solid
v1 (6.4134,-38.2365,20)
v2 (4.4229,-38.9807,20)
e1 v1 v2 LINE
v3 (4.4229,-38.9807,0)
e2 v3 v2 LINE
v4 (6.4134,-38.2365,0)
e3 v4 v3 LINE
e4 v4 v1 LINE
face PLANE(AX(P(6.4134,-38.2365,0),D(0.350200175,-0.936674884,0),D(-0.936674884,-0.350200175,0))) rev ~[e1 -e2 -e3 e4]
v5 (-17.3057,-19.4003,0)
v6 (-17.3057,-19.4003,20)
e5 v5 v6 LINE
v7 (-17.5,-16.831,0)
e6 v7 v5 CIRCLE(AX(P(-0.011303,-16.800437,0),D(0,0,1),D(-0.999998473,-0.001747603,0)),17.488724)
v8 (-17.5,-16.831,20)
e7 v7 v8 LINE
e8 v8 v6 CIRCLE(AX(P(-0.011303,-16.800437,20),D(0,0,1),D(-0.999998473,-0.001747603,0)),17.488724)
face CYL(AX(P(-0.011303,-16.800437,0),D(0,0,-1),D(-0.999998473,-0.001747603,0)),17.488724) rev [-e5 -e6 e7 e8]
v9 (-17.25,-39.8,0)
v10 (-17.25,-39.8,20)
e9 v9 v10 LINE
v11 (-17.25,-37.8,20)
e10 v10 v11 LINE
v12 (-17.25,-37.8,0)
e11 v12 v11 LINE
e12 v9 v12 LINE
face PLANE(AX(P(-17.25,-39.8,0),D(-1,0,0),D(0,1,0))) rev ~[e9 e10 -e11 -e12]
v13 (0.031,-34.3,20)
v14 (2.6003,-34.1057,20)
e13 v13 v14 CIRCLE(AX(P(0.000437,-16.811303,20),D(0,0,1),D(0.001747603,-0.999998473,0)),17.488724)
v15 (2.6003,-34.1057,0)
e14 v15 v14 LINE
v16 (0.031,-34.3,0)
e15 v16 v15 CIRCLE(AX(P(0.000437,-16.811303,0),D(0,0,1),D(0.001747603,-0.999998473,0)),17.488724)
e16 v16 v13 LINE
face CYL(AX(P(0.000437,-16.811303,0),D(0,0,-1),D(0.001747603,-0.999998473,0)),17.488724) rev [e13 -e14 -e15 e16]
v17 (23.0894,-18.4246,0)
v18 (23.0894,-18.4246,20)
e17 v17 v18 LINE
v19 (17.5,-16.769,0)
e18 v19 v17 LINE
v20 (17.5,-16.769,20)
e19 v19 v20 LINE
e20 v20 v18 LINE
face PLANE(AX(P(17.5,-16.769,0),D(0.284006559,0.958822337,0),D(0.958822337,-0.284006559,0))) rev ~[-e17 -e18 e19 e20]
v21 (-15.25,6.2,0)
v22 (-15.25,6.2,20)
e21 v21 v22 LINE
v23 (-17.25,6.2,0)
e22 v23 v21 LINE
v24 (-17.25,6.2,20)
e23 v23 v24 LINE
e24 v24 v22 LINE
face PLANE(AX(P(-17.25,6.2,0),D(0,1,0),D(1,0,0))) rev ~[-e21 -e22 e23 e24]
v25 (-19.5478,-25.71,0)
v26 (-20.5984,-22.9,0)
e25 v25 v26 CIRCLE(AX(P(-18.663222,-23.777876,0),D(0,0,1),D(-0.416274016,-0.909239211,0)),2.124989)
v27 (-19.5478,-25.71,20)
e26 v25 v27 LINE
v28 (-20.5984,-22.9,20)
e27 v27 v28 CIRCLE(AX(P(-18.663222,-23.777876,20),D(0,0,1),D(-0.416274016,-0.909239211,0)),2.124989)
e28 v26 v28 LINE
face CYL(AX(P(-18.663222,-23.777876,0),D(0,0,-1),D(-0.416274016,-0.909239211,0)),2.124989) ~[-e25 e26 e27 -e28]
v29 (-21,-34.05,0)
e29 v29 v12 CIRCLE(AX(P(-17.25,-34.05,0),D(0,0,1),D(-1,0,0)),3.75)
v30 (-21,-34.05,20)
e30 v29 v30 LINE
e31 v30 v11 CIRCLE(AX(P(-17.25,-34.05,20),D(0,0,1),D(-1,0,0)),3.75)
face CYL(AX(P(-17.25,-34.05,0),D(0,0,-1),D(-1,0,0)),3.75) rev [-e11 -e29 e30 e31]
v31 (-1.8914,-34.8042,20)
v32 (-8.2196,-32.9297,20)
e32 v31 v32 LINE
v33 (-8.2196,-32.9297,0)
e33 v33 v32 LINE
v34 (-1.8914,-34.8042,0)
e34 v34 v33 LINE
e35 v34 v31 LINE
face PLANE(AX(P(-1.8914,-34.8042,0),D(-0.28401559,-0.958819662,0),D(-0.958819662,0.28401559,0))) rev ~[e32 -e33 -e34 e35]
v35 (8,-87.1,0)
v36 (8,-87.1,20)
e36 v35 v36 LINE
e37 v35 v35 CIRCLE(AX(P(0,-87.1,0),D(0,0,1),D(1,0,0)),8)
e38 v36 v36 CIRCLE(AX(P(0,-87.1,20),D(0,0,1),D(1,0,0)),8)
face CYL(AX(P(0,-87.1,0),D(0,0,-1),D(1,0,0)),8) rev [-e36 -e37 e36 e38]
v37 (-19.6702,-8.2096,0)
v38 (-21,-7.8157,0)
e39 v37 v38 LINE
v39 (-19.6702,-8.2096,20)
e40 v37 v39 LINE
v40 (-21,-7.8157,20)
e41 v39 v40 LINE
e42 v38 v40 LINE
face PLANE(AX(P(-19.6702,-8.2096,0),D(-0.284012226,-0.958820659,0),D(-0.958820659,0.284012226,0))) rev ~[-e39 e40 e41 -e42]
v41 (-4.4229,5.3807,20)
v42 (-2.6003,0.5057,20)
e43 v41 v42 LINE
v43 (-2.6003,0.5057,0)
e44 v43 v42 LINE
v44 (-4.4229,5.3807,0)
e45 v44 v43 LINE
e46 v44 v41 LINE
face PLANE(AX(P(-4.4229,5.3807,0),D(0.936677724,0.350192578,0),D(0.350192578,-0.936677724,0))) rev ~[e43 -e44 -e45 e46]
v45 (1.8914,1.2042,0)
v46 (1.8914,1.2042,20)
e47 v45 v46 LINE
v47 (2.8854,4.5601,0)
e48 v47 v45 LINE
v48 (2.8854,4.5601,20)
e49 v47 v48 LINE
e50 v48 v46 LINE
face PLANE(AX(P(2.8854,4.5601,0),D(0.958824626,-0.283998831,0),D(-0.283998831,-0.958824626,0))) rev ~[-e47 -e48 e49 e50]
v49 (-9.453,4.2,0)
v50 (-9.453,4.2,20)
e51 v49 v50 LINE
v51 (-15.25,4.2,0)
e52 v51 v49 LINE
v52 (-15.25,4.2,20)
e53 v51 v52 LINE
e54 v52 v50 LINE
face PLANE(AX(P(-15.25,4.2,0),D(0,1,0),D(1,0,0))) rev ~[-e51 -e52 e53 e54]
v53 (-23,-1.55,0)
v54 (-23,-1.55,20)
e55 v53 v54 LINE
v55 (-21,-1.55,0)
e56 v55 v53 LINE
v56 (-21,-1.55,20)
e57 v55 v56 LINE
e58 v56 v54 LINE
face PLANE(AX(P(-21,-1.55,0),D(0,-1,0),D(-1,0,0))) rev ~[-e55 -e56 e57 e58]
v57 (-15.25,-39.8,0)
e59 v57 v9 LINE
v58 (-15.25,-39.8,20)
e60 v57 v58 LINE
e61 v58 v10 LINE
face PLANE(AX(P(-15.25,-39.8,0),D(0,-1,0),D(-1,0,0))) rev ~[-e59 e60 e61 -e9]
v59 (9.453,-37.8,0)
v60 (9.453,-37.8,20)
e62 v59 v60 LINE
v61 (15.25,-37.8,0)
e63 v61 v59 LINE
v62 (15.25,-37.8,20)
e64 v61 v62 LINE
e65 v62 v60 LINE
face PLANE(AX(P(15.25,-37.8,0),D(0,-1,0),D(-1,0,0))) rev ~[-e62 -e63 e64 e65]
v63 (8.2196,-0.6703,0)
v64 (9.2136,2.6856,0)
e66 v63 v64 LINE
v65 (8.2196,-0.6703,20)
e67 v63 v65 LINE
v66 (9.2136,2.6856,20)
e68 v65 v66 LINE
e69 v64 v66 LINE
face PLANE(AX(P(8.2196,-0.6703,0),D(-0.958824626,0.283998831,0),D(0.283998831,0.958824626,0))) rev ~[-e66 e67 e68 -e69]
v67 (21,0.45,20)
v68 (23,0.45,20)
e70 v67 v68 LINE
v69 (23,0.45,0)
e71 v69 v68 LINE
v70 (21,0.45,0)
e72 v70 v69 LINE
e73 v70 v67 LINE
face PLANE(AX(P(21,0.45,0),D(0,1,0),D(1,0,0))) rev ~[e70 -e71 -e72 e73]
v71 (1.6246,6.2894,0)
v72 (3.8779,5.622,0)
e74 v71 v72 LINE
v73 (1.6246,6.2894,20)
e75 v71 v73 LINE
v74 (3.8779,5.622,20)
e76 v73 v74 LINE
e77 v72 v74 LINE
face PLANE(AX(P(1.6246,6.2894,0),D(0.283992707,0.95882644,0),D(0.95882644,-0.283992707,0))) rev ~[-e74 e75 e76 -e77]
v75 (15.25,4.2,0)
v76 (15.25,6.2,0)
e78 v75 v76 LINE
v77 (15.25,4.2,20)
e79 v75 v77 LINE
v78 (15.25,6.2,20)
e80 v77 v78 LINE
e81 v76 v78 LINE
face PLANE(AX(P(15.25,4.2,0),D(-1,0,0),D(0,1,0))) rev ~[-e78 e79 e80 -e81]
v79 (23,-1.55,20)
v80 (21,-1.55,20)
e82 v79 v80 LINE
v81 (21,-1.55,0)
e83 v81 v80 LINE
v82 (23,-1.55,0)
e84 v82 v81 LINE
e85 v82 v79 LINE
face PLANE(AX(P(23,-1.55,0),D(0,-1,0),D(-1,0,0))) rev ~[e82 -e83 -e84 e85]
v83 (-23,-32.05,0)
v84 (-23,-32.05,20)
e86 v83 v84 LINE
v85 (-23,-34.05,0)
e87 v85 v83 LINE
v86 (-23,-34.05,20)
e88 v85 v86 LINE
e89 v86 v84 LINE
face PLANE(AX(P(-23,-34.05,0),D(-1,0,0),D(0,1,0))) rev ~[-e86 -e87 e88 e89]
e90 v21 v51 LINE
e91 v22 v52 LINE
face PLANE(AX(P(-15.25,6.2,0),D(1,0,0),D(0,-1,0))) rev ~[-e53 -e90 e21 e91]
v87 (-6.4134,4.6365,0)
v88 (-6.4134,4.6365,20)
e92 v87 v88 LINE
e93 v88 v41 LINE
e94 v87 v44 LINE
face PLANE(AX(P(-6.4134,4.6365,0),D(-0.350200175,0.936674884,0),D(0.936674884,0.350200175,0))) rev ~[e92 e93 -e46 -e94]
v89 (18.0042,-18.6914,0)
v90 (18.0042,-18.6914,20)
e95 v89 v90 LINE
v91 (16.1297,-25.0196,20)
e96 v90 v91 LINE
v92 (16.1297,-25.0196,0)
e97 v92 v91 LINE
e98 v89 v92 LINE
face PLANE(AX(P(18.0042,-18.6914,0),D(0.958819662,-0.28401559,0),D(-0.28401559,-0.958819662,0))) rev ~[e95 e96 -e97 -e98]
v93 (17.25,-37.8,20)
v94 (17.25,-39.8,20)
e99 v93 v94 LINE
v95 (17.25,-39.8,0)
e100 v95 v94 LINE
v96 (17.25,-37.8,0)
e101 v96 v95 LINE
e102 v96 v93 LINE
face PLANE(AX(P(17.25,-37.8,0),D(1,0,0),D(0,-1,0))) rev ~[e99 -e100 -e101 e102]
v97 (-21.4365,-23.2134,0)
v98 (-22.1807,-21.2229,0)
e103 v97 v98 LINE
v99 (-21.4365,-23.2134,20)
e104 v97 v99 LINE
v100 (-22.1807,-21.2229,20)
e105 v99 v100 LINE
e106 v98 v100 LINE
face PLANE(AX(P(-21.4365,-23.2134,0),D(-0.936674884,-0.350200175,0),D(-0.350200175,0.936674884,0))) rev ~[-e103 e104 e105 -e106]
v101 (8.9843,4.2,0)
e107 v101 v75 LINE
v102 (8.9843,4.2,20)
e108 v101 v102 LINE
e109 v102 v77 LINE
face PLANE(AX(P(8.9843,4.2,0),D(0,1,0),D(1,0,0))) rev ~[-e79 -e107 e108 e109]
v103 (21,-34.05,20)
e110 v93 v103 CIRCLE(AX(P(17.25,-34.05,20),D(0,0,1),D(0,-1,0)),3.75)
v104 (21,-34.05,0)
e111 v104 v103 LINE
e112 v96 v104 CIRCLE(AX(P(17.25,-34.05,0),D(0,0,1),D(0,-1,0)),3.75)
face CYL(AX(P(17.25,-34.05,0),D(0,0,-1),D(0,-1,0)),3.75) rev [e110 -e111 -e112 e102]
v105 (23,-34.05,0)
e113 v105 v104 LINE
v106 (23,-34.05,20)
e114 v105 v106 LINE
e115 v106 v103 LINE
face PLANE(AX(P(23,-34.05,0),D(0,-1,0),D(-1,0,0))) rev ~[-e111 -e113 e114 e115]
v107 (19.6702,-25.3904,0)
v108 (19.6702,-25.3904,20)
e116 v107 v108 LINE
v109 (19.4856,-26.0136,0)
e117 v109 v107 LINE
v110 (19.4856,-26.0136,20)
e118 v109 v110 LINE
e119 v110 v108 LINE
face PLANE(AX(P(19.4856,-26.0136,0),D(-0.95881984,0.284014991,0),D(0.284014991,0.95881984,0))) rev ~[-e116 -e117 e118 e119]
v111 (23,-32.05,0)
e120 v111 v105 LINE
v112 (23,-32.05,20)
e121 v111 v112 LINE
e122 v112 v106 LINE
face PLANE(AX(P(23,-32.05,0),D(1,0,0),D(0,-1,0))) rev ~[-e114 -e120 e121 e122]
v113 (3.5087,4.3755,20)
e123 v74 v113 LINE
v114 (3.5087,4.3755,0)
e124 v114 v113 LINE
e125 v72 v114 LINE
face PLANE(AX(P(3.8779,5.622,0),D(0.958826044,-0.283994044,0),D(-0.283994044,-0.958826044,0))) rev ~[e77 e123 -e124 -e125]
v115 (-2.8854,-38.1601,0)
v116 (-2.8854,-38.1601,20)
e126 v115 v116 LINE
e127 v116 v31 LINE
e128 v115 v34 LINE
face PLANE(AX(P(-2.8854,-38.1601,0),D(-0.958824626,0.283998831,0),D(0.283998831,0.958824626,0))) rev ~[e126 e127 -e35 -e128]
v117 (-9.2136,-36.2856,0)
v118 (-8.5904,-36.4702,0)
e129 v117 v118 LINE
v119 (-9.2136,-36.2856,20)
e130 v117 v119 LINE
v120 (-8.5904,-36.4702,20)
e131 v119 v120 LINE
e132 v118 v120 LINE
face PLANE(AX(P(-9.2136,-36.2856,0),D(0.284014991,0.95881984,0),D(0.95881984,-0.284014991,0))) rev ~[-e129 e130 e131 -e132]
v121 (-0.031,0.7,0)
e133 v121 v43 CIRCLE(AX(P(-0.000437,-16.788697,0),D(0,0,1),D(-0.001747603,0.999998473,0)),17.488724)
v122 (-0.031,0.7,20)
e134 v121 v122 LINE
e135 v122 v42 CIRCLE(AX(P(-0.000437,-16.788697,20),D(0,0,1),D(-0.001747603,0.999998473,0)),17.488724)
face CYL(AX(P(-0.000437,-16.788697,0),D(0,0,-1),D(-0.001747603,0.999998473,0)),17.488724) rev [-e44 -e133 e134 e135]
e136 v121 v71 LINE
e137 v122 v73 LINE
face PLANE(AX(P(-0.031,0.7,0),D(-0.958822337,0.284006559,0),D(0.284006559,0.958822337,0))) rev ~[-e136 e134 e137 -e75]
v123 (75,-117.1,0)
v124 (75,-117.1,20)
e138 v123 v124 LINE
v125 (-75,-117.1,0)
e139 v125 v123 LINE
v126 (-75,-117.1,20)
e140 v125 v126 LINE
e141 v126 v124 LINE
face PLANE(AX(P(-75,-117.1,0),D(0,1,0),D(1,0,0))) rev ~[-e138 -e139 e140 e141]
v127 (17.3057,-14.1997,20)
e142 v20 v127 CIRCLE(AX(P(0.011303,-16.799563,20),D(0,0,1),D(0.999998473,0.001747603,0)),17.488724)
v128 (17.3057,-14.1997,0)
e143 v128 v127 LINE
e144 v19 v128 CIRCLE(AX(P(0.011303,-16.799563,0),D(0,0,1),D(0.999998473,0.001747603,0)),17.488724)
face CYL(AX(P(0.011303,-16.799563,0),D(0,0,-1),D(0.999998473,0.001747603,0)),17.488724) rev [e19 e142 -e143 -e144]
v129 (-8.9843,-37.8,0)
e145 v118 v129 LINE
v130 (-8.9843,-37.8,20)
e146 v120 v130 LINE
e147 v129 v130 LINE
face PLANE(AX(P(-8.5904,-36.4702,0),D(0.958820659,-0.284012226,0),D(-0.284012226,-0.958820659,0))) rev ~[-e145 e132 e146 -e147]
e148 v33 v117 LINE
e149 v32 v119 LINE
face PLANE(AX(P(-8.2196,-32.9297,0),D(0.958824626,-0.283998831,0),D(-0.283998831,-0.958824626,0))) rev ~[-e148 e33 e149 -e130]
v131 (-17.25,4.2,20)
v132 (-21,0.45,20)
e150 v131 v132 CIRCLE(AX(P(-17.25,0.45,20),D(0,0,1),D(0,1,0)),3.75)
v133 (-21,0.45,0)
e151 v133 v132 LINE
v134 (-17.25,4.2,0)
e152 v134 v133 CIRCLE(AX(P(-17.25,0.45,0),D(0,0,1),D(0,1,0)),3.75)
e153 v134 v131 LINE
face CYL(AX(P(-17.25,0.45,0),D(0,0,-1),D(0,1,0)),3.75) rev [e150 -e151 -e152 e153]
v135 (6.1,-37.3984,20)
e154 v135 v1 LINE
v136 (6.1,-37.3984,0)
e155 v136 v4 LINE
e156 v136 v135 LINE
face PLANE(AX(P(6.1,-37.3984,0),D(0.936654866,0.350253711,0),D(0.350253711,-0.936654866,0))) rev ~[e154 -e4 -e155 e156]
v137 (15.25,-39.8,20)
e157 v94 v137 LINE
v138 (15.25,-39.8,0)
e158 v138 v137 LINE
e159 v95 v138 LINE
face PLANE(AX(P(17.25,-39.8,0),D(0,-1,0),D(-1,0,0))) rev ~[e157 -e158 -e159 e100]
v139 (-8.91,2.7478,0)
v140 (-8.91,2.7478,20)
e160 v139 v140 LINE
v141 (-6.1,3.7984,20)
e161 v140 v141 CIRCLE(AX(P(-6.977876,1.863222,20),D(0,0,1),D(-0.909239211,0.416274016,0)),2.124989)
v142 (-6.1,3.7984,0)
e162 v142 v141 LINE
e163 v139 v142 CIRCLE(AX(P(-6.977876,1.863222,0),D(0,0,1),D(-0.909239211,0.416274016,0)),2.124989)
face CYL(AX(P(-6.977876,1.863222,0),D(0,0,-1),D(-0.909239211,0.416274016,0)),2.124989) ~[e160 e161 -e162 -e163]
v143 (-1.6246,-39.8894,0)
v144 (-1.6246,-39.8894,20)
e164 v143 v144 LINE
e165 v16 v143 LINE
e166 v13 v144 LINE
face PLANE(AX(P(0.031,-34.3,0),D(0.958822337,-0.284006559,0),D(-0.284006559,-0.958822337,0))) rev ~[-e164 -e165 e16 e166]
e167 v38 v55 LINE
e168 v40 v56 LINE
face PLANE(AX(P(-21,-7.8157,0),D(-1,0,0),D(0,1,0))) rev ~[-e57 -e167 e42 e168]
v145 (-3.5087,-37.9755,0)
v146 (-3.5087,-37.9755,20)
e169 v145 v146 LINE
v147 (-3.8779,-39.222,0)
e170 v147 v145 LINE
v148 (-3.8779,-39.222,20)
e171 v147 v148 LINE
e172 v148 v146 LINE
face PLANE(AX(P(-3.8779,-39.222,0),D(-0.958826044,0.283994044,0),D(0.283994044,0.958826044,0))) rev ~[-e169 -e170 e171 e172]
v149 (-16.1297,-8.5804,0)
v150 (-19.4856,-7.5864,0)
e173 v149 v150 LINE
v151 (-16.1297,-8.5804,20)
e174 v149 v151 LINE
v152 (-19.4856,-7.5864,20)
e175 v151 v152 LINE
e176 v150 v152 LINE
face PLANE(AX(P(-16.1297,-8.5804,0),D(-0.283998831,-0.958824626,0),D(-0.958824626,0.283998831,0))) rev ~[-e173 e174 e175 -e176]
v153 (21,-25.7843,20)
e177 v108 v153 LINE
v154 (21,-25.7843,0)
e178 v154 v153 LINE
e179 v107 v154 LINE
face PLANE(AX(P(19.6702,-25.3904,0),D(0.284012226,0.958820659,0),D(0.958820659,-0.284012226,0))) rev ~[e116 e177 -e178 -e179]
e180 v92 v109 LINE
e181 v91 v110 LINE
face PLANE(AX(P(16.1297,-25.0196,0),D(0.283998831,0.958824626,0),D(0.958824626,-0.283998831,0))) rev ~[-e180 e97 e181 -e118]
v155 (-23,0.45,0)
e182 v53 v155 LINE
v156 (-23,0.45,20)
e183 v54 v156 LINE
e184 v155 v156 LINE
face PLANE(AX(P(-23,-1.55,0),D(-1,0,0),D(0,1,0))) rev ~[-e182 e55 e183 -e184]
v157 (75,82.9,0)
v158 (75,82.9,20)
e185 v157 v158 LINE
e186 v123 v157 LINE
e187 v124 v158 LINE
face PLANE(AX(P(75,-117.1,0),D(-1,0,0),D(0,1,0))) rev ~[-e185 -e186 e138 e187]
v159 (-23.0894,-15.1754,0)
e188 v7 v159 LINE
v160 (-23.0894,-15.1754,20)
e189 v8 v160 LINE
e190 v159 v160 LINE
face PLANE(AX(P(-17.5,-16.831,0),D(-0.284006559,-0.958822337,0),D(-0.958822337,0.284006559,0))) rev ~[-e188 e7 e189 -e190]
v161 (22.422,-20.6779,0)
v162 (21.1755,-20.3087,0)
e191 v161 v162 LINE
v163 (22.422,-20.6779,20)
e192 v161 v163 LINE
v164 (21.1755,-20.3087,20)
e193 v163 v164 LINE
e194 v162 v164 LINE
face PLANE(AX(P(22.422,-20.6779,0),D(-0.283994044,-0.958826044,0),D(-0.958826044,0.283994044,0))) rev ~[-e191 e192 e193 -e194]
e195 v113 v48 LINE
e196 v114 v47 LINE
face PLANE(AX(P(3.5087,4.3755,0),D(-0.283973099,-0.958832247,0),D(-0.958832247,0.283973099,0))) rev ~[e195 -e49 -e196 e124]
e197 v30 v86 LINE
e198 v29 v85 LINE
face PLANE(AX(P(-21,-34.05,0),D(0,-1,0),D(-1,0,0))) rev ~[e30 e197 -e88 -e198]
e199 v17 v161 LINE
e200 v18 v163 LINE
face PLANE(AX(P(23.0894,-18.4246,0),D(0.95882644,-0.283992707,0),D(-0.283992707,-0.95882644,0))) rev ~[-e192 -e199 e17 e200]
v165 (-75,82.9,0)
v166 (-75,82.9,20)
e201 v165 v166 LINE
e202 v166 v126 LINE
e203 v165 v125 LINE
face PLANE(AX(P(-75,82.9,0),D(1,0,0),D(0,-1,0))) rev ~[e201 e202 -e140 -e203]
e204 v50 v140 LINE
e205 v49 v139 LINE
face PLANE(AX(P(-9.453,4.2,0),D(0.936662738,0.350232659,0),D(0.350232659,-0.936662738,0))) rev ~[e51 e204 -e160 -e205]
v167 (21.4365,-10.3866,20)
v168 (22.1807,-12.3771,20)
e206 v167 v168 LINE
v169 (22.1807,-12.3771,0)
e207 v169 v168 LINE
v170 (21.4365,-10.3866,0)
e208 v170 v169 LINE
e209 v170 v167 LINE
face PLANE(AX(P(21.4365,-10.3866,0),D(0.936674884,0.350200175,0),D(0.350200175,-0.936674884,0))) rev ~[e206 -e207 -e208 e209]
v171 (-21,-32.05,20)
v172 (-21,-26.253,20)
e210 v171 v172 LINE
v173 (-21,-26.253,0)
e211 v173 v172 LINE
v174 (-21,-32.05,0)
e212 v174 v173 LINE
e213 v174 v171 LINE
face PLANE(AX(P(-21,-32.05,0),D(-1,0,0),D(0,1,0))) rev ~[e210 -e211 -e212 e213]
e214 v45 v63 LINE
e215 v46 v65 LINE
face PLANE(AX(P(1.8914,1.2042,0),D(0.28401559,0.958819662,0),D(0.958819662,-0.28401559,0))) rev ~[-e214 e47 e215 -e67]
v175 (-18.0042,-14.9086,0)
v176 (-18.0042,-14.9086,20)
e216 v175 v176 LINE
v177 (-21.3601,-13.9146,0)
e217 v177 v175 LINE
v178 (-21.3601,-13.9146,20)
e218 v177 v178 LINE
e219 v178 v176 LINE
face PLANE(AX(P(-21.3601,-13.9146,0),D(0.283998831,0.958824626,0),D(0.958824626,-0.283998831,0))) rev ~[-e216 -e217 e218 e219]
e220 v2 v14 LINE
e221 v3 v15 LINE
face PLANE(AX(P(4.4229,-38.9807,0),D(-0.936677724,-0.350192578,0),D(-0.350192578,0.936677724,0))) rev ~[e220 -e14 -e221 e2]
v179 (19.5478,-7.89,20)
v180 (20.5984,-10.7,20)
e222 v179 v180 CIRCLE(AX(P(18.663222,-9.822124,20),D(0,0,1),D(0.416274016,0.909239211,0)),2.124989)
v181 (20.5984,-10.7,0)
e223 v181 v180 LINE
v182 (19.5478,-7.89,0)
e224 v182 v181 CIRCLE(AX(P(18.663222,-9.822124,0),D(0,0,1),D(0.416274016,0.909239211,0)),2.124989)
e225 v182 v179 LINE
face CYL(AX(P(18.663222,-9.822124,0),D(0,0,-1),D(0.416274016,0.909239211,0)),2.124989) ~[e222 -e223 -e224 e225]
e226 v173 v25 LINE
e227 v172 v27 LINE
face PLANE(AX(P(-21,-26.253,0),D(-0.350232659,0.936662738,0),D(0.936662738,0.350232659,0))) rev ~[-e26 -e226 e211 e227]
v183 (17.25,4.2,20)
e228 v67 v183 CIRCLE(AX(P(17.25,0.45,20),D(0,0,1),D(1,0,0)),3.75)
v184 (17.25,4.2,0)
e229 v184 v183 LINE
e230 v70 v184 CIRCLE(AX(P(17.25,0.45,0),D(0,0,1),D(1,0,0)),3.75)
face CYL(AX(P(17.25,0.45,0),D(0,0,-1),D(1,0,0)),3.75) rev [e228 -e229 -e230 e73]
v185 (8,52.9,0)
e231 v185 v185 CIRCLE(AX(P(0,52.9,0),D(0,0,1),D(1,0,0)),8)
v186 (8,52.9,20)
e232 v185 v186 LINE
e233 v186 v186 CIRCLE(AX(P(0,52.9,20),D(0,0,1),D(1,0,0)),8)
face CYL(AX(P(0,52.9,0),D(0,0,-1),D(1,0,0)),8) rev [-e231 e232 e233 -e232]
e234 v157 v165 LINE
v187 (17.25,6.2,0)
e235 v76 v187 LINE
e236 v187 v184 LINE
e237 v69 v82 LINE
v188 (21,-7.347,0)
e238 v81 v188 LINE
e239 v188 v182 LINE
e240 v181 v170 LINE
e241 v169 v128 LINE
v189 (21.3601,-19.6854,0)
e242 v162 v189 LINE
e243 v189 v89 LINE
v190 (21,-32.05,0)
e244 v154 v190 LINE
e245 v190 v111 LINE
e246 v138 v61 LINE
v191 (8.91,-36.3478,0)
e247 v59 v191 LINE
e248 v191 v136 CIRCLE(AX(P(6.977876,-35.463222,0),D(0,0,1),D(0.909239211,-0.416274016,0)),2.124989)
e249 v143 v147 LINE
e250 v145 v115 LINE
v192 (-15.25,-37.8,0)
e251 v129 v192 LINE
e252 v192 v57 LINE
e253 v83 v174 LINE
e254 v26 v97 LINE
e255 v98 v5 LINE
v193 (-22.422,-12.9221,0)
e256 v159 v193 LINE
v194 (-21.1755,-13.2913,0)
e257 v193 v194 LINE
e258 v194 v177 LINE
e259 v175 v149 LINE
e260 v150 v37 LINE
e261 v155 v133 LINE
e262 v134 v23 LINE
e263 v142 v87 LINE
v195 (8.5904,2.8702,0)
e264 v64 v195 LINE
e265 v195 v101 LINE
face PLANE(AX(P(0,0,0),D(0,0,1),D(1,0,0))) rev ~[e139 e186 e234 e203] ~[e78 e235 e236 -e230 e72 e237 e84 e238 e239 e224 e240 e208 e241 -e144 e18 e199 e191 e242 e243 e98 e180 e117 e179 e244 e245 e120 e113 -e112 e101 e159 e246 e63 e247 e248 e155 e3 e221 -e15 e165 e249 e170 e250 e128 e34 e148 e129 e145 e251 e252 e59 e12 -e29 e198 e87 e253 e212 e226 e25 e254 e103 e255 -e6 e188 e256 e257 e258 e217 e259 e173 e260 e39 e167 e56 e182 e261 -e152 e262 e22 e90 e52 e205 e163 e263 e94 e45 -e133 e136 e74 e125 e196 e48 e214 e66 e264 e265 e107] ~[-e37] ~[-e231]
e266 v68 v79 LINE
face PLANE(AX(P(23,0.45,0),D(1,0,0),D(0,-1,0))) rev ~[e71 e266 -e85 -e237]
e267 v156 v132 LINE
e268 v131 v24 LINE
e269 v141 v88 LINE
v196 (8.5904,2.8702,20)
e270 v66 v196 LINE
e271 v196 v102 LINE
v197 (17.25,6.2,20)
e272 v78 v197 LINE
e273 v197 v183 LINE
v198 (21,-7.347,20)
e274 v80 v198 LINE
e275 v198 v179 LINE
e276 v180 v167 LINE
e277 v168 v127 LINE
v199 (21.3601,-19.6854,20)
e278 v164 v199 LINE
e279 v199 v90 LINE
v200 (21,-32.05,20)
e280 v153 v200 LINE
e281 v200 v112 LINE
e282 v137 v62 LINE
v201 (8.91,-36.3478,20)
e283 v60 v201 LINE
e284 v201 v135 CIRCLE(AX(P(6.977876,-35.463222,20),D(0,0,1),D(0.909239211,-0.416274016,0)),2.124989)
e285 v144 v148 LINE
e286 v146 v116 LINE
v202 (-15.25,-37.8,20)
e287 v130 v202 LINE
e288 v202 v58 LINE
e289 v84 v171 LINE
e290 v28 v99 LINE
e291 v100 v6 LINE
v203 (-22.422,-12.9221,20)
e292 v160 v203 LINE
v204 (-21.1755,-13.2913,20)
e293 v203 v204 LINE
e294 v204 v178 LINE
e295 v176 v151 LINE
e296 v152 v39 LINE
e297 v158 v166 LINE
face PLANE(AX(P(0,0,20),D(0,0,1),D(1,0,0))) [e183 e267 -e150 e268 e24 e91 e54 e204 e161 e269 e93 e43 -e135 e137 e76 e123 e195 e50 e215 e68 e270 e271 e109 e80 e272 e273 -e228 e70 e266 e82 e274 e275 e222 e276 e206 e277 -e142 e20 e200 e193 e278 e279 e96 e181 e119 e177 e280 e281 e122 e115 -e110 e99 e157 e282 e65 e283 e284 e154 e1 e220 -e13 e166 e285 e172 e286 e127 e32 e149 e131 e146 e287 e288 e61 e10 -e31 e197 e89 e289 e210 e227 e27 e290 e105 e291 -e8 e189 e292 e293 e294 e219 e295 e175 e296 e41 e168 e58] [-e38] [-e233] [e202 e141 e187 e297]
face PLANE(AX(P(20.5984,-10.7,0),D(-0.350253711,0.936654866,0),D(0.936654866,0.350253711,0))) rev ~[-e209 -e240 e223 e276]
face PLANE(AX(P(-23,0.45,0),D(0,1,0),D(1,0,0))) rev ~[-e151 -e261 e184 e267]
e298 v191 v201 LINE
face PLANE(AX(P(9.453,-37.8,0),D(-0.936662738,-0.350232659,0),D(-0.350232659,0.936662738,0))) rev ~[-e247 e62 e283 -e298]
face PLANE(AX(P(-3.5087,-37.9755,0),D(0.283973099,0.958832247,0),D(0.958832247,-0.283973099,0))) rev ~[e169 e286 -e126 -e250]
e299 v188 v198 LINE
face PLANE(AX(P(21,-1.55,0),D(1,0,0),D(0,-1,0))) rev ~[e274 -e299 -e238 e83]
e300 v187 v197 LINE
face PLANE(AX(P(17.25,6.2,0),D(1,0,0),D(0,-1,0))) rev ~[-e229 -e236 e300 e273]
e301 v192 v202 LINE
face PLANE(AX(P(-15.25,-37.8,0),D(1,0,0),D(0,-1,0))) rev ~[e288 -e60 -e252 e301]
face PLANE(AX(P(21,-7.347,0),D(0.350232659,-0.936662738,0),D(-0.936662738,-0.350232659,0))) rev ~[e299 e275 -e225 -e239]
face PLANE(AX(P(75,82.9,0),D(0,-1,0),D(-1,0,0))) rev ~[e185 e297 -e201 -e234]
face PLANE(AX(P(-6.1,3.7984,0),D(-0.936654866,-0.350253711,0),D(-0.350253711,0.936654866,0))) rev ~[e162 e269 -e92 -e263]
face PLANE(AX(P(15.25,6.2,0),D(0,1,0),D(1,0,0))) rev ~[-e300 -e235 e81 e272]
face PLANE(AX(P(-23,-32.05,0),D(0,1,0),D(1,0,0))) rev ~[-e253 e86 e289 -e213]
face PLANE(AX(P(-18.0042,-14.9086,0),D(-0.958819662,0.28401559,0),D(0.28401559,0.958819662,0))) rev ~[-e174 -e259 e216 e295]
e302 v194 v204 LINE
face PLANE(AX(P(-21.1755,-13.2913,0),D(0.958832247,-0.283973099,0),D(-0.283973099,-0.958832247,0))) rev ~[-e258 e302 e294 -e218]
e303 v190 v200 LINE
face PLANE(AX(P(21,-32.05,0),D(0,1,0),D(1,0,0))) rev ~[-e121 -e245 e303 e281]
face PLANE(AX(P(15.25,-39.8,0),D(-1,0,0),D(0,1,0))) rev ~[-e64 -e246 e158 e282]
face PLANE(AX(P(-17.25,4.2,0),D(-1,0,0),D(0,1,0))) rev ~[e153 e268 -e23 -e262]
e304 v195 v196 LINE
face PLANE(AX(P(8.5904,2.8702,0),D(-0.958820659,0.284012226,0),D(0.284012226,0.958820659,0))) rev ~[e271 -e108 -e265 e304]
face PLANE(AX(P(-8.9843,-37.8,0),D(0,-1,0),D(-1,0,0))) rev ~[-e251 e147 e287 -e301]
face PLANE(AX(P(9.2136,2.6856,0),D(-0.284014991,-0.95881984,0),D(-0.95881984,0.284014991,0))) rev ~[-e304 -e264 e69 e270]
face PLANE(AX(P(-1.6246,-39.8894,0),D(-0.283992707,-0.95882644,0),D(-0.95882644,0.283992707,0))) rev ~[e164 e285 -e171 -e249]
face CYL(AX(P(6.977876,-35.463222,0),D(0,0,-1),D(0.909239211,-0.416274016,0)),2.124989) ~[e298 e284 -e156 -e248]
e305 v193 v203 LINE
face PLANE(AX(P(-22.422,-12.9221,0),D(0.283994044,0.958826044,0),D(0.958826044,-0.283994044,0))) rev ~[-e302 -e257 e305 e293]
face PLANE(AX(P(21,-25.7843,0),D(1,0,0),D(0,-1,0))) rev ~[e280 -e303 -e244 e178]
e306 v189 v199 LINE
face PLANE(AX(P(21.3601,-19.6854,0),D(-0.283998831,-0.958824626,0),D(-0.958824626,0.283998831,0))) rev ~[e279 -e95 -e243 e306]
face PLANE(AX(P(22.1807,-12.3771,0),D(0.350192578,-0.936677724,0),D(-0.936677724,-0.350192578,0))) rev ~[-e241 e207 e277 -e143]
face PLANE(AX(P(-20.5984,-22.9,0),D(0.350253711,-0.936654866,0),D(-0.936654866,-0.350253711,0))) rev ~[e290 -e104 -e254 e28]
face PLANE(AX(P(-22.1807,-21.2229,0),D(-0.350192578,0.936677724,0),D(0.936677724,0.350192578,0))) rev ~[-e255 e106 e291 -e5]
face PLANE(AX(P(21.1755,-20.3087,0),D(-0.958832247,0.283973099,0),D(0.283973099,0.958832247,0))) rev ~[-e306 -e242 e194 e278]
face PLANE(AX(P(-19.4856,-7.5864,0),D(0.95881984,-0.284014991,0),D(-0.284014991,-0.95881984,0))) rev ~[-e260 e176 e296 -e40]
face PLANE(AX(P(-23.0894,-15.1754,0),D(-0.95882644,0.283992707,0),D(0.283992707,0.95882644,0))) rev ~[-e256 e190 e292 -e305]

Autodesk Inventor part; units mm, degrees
ref_plane "YZ Plane" through (0, 0, 0) normal (1, 0, 0) x (0, 1, 0)
ref_plane "XZ Plane" through (0, 0, 0) normal (0, 1, 0) x (-1, 0, 0)
ref_plane "XY Plane" through (0, 0, 0) normal (0, 0, 1) x (1, 0, 0)
ref_plane "Work Plane1" through (0, 0, 0) normal (0, 0, 1) x (1, 0, 0)
sketch "Sketch1" plane through (0, 0, 0) normal (0, 0, 1) x (1, 0, 0)
  circle A0 centre (0, 52.9) radius 8 projected
  line L0 (-75, -117.1) -> (75, -117.1) projected
  line L1 (75, -117.1) -> (75, 82.9) projected
  line L2 (75, 82.9) -> (-75, 82.9) projected
  line L3 (-75, 82.9) -> (-75, -117.1) projected
  circle A1 centre (0, -87.1) radius 8 projected
  circle A2 centre (0, -16.8) radius 16
  line L4 (0.031, -34.3) -> (-1.6246, -39.8894)
  line L5 (-1.6246, -39.8894) -> (-3.8779, -39.222)
  line L6 (-3.8779, -39.222) -> (-3.5087, -37.9755)
  line L7 (-3.5087, -37.9755) -> (-2.8854, -38.1601)
  line L8 (-2.8854, -38.1601) -> (-1.8914, -34.8042)
  line L9 (-1.8914, -34.8042) -> (-8.2196, -32.9297)
  line L10 (-8.2196, -32.9297) -> (-9.2136, -36.2856)
  line L11 (-9.2136, -36.2856) -> (-8.5904, -36.4702)
  line L12 (-8.5904, -36.4702) -> (-8.9843, -37.8)
  line L13 (-8.9843, -37.8) -> (-15.25, -37.8)
  line L14 (-15.25, -37.8) -> (-15.25, -39.8)
  line L15 (-15.25, -39.8) -> (-17.25, -39.8)
  line L16 (-17.25, -39.8) -> (-17.25, -37.8)
  arc A3 (-21, -34.05) -> (-17.25, -37.8) centre (-17.25, -34.05) ccw
  line L17 (-21, -34.05) -> (-23, -34.05)
  line L18 (-23, -34.05) -> (-23, -32.05)
  line L19 (-23, -32.05) -> (-21, -32.05)
  line L20 (-21, -32.05) -> (-21, -26.253)
  line L21 (-21, -26.253) -> (-19.5478, -25.71)
  arc A4 (-19.5478, -25.71) -> (-20.5984, -22.9) centre (-18.6632, -23.7779) ccw
  line L22 (-20.5984, -22.9) -> (-21.4365, -23.2134)
  line L23 (-21.4365, -23.2134) -> (-22.1807, -21.2229)
  line L24 (-22.1807, -21.2229) -> (-17.3057, -19.4003)
  arc A5 (-17.5, -16.831) -> (-17.3057, -19.4003) centre (0, -16.8) ccw
  line L25 (-17.5, -16.831) -> (-23.0894, -15.1754)
  line L26 (-23.0894, -15.1754) -> (-22.422, -12.9221)
  line L27 (-22.422, -12.9221) -> (-21.1755, -13.2913)
  line L28 (-21.1755, -13.2913) -> (-21.3601, -13.9146)
  line L29 (-21.3601, -13.9146) -> (-18.0042, -14.9086)
  line L30 (-18.0042, -14.9086) -> (-16.1297, -8.5804)
  line L31 (-16.1297, -8.5804) -> (-19.4856, -7.5864)
  line L32 (-19.4856, -7.5864) -> (-19.6702, -8.2096)
  line L33 (-19.6702, -8.2096) -> (-21, -7.8157)
  line L34 (-21, -7.8157) -> (-21, -1.55)
  line L35 (-21, -1.55) -> (-23, -1.55)
  line L36 (-23, -1.55) -> (-23, 0.45)
  line L37 (-23, 0.45) -> (-21, 0.45)
  arc A6 (-17.25, 4.2) -> (-21, 0.45) centre (-17.25, 0.45) ccw
  line L38 (-17.25, 4.2) -> (-17.25, 6.2)
  line L39 (-17.25, 6.2) -> (-15.25, 6.2)
  line L40 (-15.25, 6.2) -> (-15.25, 4.2)
  line L41 (-15.25, 4.2) -> (-9.453, 4.2)
  line L42 (-9.453, 4.2) -> (-8.91, 2.7478)
  arc A7 (-8.91, 2.7478) -> (-6.1, 3.7984) centre (-6.9779, 1.8632) ccw
  line L43 (-6.1, 3.7984) -> (-6.4134, 4.6365)
  line L44 (-6.4134, 4.6365) -> (-4.4229, 5.3807)
  line L45 (-4.4229, 5.3807) -> (-2.6003, 0.5057)
  arc A8 (-0.031, 0.7) -> (-2.6003, 0.5057) centre (0, -16.8) ccw
  line L46 (-0.031, 0.7) -> (1.6246, 6.2894)
  line L47 (1.6246, 6.2894) -> (3.8779, 5.622)
  line L48 (3.8779, 5.622) -> (3.5087, 4.3755)
  line L49 (3.5087, 4.3755) -> (2.8854, 4.5601)
  line L50 (2.8854, 4.5601) -> (1.8914, 1.2042)
  line L51 (1.8914, 1.2042) -> (8.2196, -0.6703)
  line L52 (8.2196, -0.6703) -> (9.2136, 2.6856)
  line L53 (9.2136, 2.6856) -> (8.5904, 2.8702)
  line L54 (8.5904, 2.8702) -> (8.9843, 4.2)
  line L55 (8.9843, 4.2) -> (15.25, 4.2)
  line L56 (15.25, 4.2) -> (15.25, 6.2)
  line L57 (15.25, 6.2) -> (17.25, 6.2)
  line L58 (17.25, 6.2) -> (17.25, 4.2)
  arc A9 (21, 0.45) -> (17.25, 4.2) centre (17.25, 0.45) ccw
  line L59 (21, 0.45) -> (23, 0.45)
  line L60 (23, 0.45) -> (23, -1.55)
  line L61 (23, -1.55) -> (21, -1.55)
  line L62 (21, -1.55) -> (21, -7.347)
  line L63 (21, -7.347) -> (19.5478, -7.89)
  arc A10 (19.5478, -7.89) -> (20.5984, -10.7) centre (18.6632, -9.8221) ccw
  line L64 (20.5984, -10.7) -> (21.4365, -10.3866)
  line L65 (21.4365, -10.3866) -> (22.1807, -12.3771)
  line L66 (22.1807, -12.3771) -> (17.3057, -14.1997)
  arc A11 (17.5, -16.769) -> (17.3057, -14.1997) centre (0, -16.8) ccw
  line L67 (17.5, -16.769) -> (23.0894, -18.4246)
  line L68 (23.0894, -18.4246) -> (22.422, -20.6779)
  line L69 (22.422, -20.6779) -> (21.1755, -20.3087)
  line L70 (21.1755, -20.3087) -> (21.3601, -19.6854)
  line L71 (21.3601, -19.6854) -> (18.0042, -18.6914)
  line L72 (18.0042, -18.6914) -> (16.1297, -25.0196)
  line L73 (16.1297, -25.0196) -> (19.4856, -26.0136)
  line L74 (19.4856, -26.0136) -> (19.6702, -25.3904)
  line L75 (19.6702, -25.3904) -> (21, -25.7843)
  line L76 (21, -25.7843) -> (21, -32.05)
  line L77 (21, -32.05) -> (23, -32.05)
  line L78 (23, -32.05) -> (23, -34.05)
  line L79 (23, -34.05) -> (21, -34.05)
  arc A12 (17.25, -37.8) -> (21, -34.05) centre (17.25, -34.05) ccw
  line L80 (17.25, -37.8) -> (17.25, -39.8)
  line L81 (17.25, -39.8) -> (15.25, -39.8)
  line L82 (15.25, -39.8) -> (15.25, -37.8)
  line L83 (15.25, -37.8) -> (9.453, -37.8)
  line L84 (9.453, -37.8) -> (8.91, -36.3478)
  arc A13 (8.91, -36.3478) -> (6.1, -37.3984) centre (6.9779, -35.4632) ccw
  line L85 (6.1, -37.3984) -> (6.4134, -38.2365)
  line L86 (6.4134, -38.2365) -> (4.4229, -38.9807)
  line L87 (4.4229, -38.9807) -> (2.6003, -34.1057)
  arc A14 (0.031, -34.3) -> (2.6003, -34.1057) centre (0, -16.8) ccw
extrude "Extrusion1" add sketch "Sketch1" along normal blind 20 contours L3 L2 L1 L0
properties part number "Soporte Pistón"
